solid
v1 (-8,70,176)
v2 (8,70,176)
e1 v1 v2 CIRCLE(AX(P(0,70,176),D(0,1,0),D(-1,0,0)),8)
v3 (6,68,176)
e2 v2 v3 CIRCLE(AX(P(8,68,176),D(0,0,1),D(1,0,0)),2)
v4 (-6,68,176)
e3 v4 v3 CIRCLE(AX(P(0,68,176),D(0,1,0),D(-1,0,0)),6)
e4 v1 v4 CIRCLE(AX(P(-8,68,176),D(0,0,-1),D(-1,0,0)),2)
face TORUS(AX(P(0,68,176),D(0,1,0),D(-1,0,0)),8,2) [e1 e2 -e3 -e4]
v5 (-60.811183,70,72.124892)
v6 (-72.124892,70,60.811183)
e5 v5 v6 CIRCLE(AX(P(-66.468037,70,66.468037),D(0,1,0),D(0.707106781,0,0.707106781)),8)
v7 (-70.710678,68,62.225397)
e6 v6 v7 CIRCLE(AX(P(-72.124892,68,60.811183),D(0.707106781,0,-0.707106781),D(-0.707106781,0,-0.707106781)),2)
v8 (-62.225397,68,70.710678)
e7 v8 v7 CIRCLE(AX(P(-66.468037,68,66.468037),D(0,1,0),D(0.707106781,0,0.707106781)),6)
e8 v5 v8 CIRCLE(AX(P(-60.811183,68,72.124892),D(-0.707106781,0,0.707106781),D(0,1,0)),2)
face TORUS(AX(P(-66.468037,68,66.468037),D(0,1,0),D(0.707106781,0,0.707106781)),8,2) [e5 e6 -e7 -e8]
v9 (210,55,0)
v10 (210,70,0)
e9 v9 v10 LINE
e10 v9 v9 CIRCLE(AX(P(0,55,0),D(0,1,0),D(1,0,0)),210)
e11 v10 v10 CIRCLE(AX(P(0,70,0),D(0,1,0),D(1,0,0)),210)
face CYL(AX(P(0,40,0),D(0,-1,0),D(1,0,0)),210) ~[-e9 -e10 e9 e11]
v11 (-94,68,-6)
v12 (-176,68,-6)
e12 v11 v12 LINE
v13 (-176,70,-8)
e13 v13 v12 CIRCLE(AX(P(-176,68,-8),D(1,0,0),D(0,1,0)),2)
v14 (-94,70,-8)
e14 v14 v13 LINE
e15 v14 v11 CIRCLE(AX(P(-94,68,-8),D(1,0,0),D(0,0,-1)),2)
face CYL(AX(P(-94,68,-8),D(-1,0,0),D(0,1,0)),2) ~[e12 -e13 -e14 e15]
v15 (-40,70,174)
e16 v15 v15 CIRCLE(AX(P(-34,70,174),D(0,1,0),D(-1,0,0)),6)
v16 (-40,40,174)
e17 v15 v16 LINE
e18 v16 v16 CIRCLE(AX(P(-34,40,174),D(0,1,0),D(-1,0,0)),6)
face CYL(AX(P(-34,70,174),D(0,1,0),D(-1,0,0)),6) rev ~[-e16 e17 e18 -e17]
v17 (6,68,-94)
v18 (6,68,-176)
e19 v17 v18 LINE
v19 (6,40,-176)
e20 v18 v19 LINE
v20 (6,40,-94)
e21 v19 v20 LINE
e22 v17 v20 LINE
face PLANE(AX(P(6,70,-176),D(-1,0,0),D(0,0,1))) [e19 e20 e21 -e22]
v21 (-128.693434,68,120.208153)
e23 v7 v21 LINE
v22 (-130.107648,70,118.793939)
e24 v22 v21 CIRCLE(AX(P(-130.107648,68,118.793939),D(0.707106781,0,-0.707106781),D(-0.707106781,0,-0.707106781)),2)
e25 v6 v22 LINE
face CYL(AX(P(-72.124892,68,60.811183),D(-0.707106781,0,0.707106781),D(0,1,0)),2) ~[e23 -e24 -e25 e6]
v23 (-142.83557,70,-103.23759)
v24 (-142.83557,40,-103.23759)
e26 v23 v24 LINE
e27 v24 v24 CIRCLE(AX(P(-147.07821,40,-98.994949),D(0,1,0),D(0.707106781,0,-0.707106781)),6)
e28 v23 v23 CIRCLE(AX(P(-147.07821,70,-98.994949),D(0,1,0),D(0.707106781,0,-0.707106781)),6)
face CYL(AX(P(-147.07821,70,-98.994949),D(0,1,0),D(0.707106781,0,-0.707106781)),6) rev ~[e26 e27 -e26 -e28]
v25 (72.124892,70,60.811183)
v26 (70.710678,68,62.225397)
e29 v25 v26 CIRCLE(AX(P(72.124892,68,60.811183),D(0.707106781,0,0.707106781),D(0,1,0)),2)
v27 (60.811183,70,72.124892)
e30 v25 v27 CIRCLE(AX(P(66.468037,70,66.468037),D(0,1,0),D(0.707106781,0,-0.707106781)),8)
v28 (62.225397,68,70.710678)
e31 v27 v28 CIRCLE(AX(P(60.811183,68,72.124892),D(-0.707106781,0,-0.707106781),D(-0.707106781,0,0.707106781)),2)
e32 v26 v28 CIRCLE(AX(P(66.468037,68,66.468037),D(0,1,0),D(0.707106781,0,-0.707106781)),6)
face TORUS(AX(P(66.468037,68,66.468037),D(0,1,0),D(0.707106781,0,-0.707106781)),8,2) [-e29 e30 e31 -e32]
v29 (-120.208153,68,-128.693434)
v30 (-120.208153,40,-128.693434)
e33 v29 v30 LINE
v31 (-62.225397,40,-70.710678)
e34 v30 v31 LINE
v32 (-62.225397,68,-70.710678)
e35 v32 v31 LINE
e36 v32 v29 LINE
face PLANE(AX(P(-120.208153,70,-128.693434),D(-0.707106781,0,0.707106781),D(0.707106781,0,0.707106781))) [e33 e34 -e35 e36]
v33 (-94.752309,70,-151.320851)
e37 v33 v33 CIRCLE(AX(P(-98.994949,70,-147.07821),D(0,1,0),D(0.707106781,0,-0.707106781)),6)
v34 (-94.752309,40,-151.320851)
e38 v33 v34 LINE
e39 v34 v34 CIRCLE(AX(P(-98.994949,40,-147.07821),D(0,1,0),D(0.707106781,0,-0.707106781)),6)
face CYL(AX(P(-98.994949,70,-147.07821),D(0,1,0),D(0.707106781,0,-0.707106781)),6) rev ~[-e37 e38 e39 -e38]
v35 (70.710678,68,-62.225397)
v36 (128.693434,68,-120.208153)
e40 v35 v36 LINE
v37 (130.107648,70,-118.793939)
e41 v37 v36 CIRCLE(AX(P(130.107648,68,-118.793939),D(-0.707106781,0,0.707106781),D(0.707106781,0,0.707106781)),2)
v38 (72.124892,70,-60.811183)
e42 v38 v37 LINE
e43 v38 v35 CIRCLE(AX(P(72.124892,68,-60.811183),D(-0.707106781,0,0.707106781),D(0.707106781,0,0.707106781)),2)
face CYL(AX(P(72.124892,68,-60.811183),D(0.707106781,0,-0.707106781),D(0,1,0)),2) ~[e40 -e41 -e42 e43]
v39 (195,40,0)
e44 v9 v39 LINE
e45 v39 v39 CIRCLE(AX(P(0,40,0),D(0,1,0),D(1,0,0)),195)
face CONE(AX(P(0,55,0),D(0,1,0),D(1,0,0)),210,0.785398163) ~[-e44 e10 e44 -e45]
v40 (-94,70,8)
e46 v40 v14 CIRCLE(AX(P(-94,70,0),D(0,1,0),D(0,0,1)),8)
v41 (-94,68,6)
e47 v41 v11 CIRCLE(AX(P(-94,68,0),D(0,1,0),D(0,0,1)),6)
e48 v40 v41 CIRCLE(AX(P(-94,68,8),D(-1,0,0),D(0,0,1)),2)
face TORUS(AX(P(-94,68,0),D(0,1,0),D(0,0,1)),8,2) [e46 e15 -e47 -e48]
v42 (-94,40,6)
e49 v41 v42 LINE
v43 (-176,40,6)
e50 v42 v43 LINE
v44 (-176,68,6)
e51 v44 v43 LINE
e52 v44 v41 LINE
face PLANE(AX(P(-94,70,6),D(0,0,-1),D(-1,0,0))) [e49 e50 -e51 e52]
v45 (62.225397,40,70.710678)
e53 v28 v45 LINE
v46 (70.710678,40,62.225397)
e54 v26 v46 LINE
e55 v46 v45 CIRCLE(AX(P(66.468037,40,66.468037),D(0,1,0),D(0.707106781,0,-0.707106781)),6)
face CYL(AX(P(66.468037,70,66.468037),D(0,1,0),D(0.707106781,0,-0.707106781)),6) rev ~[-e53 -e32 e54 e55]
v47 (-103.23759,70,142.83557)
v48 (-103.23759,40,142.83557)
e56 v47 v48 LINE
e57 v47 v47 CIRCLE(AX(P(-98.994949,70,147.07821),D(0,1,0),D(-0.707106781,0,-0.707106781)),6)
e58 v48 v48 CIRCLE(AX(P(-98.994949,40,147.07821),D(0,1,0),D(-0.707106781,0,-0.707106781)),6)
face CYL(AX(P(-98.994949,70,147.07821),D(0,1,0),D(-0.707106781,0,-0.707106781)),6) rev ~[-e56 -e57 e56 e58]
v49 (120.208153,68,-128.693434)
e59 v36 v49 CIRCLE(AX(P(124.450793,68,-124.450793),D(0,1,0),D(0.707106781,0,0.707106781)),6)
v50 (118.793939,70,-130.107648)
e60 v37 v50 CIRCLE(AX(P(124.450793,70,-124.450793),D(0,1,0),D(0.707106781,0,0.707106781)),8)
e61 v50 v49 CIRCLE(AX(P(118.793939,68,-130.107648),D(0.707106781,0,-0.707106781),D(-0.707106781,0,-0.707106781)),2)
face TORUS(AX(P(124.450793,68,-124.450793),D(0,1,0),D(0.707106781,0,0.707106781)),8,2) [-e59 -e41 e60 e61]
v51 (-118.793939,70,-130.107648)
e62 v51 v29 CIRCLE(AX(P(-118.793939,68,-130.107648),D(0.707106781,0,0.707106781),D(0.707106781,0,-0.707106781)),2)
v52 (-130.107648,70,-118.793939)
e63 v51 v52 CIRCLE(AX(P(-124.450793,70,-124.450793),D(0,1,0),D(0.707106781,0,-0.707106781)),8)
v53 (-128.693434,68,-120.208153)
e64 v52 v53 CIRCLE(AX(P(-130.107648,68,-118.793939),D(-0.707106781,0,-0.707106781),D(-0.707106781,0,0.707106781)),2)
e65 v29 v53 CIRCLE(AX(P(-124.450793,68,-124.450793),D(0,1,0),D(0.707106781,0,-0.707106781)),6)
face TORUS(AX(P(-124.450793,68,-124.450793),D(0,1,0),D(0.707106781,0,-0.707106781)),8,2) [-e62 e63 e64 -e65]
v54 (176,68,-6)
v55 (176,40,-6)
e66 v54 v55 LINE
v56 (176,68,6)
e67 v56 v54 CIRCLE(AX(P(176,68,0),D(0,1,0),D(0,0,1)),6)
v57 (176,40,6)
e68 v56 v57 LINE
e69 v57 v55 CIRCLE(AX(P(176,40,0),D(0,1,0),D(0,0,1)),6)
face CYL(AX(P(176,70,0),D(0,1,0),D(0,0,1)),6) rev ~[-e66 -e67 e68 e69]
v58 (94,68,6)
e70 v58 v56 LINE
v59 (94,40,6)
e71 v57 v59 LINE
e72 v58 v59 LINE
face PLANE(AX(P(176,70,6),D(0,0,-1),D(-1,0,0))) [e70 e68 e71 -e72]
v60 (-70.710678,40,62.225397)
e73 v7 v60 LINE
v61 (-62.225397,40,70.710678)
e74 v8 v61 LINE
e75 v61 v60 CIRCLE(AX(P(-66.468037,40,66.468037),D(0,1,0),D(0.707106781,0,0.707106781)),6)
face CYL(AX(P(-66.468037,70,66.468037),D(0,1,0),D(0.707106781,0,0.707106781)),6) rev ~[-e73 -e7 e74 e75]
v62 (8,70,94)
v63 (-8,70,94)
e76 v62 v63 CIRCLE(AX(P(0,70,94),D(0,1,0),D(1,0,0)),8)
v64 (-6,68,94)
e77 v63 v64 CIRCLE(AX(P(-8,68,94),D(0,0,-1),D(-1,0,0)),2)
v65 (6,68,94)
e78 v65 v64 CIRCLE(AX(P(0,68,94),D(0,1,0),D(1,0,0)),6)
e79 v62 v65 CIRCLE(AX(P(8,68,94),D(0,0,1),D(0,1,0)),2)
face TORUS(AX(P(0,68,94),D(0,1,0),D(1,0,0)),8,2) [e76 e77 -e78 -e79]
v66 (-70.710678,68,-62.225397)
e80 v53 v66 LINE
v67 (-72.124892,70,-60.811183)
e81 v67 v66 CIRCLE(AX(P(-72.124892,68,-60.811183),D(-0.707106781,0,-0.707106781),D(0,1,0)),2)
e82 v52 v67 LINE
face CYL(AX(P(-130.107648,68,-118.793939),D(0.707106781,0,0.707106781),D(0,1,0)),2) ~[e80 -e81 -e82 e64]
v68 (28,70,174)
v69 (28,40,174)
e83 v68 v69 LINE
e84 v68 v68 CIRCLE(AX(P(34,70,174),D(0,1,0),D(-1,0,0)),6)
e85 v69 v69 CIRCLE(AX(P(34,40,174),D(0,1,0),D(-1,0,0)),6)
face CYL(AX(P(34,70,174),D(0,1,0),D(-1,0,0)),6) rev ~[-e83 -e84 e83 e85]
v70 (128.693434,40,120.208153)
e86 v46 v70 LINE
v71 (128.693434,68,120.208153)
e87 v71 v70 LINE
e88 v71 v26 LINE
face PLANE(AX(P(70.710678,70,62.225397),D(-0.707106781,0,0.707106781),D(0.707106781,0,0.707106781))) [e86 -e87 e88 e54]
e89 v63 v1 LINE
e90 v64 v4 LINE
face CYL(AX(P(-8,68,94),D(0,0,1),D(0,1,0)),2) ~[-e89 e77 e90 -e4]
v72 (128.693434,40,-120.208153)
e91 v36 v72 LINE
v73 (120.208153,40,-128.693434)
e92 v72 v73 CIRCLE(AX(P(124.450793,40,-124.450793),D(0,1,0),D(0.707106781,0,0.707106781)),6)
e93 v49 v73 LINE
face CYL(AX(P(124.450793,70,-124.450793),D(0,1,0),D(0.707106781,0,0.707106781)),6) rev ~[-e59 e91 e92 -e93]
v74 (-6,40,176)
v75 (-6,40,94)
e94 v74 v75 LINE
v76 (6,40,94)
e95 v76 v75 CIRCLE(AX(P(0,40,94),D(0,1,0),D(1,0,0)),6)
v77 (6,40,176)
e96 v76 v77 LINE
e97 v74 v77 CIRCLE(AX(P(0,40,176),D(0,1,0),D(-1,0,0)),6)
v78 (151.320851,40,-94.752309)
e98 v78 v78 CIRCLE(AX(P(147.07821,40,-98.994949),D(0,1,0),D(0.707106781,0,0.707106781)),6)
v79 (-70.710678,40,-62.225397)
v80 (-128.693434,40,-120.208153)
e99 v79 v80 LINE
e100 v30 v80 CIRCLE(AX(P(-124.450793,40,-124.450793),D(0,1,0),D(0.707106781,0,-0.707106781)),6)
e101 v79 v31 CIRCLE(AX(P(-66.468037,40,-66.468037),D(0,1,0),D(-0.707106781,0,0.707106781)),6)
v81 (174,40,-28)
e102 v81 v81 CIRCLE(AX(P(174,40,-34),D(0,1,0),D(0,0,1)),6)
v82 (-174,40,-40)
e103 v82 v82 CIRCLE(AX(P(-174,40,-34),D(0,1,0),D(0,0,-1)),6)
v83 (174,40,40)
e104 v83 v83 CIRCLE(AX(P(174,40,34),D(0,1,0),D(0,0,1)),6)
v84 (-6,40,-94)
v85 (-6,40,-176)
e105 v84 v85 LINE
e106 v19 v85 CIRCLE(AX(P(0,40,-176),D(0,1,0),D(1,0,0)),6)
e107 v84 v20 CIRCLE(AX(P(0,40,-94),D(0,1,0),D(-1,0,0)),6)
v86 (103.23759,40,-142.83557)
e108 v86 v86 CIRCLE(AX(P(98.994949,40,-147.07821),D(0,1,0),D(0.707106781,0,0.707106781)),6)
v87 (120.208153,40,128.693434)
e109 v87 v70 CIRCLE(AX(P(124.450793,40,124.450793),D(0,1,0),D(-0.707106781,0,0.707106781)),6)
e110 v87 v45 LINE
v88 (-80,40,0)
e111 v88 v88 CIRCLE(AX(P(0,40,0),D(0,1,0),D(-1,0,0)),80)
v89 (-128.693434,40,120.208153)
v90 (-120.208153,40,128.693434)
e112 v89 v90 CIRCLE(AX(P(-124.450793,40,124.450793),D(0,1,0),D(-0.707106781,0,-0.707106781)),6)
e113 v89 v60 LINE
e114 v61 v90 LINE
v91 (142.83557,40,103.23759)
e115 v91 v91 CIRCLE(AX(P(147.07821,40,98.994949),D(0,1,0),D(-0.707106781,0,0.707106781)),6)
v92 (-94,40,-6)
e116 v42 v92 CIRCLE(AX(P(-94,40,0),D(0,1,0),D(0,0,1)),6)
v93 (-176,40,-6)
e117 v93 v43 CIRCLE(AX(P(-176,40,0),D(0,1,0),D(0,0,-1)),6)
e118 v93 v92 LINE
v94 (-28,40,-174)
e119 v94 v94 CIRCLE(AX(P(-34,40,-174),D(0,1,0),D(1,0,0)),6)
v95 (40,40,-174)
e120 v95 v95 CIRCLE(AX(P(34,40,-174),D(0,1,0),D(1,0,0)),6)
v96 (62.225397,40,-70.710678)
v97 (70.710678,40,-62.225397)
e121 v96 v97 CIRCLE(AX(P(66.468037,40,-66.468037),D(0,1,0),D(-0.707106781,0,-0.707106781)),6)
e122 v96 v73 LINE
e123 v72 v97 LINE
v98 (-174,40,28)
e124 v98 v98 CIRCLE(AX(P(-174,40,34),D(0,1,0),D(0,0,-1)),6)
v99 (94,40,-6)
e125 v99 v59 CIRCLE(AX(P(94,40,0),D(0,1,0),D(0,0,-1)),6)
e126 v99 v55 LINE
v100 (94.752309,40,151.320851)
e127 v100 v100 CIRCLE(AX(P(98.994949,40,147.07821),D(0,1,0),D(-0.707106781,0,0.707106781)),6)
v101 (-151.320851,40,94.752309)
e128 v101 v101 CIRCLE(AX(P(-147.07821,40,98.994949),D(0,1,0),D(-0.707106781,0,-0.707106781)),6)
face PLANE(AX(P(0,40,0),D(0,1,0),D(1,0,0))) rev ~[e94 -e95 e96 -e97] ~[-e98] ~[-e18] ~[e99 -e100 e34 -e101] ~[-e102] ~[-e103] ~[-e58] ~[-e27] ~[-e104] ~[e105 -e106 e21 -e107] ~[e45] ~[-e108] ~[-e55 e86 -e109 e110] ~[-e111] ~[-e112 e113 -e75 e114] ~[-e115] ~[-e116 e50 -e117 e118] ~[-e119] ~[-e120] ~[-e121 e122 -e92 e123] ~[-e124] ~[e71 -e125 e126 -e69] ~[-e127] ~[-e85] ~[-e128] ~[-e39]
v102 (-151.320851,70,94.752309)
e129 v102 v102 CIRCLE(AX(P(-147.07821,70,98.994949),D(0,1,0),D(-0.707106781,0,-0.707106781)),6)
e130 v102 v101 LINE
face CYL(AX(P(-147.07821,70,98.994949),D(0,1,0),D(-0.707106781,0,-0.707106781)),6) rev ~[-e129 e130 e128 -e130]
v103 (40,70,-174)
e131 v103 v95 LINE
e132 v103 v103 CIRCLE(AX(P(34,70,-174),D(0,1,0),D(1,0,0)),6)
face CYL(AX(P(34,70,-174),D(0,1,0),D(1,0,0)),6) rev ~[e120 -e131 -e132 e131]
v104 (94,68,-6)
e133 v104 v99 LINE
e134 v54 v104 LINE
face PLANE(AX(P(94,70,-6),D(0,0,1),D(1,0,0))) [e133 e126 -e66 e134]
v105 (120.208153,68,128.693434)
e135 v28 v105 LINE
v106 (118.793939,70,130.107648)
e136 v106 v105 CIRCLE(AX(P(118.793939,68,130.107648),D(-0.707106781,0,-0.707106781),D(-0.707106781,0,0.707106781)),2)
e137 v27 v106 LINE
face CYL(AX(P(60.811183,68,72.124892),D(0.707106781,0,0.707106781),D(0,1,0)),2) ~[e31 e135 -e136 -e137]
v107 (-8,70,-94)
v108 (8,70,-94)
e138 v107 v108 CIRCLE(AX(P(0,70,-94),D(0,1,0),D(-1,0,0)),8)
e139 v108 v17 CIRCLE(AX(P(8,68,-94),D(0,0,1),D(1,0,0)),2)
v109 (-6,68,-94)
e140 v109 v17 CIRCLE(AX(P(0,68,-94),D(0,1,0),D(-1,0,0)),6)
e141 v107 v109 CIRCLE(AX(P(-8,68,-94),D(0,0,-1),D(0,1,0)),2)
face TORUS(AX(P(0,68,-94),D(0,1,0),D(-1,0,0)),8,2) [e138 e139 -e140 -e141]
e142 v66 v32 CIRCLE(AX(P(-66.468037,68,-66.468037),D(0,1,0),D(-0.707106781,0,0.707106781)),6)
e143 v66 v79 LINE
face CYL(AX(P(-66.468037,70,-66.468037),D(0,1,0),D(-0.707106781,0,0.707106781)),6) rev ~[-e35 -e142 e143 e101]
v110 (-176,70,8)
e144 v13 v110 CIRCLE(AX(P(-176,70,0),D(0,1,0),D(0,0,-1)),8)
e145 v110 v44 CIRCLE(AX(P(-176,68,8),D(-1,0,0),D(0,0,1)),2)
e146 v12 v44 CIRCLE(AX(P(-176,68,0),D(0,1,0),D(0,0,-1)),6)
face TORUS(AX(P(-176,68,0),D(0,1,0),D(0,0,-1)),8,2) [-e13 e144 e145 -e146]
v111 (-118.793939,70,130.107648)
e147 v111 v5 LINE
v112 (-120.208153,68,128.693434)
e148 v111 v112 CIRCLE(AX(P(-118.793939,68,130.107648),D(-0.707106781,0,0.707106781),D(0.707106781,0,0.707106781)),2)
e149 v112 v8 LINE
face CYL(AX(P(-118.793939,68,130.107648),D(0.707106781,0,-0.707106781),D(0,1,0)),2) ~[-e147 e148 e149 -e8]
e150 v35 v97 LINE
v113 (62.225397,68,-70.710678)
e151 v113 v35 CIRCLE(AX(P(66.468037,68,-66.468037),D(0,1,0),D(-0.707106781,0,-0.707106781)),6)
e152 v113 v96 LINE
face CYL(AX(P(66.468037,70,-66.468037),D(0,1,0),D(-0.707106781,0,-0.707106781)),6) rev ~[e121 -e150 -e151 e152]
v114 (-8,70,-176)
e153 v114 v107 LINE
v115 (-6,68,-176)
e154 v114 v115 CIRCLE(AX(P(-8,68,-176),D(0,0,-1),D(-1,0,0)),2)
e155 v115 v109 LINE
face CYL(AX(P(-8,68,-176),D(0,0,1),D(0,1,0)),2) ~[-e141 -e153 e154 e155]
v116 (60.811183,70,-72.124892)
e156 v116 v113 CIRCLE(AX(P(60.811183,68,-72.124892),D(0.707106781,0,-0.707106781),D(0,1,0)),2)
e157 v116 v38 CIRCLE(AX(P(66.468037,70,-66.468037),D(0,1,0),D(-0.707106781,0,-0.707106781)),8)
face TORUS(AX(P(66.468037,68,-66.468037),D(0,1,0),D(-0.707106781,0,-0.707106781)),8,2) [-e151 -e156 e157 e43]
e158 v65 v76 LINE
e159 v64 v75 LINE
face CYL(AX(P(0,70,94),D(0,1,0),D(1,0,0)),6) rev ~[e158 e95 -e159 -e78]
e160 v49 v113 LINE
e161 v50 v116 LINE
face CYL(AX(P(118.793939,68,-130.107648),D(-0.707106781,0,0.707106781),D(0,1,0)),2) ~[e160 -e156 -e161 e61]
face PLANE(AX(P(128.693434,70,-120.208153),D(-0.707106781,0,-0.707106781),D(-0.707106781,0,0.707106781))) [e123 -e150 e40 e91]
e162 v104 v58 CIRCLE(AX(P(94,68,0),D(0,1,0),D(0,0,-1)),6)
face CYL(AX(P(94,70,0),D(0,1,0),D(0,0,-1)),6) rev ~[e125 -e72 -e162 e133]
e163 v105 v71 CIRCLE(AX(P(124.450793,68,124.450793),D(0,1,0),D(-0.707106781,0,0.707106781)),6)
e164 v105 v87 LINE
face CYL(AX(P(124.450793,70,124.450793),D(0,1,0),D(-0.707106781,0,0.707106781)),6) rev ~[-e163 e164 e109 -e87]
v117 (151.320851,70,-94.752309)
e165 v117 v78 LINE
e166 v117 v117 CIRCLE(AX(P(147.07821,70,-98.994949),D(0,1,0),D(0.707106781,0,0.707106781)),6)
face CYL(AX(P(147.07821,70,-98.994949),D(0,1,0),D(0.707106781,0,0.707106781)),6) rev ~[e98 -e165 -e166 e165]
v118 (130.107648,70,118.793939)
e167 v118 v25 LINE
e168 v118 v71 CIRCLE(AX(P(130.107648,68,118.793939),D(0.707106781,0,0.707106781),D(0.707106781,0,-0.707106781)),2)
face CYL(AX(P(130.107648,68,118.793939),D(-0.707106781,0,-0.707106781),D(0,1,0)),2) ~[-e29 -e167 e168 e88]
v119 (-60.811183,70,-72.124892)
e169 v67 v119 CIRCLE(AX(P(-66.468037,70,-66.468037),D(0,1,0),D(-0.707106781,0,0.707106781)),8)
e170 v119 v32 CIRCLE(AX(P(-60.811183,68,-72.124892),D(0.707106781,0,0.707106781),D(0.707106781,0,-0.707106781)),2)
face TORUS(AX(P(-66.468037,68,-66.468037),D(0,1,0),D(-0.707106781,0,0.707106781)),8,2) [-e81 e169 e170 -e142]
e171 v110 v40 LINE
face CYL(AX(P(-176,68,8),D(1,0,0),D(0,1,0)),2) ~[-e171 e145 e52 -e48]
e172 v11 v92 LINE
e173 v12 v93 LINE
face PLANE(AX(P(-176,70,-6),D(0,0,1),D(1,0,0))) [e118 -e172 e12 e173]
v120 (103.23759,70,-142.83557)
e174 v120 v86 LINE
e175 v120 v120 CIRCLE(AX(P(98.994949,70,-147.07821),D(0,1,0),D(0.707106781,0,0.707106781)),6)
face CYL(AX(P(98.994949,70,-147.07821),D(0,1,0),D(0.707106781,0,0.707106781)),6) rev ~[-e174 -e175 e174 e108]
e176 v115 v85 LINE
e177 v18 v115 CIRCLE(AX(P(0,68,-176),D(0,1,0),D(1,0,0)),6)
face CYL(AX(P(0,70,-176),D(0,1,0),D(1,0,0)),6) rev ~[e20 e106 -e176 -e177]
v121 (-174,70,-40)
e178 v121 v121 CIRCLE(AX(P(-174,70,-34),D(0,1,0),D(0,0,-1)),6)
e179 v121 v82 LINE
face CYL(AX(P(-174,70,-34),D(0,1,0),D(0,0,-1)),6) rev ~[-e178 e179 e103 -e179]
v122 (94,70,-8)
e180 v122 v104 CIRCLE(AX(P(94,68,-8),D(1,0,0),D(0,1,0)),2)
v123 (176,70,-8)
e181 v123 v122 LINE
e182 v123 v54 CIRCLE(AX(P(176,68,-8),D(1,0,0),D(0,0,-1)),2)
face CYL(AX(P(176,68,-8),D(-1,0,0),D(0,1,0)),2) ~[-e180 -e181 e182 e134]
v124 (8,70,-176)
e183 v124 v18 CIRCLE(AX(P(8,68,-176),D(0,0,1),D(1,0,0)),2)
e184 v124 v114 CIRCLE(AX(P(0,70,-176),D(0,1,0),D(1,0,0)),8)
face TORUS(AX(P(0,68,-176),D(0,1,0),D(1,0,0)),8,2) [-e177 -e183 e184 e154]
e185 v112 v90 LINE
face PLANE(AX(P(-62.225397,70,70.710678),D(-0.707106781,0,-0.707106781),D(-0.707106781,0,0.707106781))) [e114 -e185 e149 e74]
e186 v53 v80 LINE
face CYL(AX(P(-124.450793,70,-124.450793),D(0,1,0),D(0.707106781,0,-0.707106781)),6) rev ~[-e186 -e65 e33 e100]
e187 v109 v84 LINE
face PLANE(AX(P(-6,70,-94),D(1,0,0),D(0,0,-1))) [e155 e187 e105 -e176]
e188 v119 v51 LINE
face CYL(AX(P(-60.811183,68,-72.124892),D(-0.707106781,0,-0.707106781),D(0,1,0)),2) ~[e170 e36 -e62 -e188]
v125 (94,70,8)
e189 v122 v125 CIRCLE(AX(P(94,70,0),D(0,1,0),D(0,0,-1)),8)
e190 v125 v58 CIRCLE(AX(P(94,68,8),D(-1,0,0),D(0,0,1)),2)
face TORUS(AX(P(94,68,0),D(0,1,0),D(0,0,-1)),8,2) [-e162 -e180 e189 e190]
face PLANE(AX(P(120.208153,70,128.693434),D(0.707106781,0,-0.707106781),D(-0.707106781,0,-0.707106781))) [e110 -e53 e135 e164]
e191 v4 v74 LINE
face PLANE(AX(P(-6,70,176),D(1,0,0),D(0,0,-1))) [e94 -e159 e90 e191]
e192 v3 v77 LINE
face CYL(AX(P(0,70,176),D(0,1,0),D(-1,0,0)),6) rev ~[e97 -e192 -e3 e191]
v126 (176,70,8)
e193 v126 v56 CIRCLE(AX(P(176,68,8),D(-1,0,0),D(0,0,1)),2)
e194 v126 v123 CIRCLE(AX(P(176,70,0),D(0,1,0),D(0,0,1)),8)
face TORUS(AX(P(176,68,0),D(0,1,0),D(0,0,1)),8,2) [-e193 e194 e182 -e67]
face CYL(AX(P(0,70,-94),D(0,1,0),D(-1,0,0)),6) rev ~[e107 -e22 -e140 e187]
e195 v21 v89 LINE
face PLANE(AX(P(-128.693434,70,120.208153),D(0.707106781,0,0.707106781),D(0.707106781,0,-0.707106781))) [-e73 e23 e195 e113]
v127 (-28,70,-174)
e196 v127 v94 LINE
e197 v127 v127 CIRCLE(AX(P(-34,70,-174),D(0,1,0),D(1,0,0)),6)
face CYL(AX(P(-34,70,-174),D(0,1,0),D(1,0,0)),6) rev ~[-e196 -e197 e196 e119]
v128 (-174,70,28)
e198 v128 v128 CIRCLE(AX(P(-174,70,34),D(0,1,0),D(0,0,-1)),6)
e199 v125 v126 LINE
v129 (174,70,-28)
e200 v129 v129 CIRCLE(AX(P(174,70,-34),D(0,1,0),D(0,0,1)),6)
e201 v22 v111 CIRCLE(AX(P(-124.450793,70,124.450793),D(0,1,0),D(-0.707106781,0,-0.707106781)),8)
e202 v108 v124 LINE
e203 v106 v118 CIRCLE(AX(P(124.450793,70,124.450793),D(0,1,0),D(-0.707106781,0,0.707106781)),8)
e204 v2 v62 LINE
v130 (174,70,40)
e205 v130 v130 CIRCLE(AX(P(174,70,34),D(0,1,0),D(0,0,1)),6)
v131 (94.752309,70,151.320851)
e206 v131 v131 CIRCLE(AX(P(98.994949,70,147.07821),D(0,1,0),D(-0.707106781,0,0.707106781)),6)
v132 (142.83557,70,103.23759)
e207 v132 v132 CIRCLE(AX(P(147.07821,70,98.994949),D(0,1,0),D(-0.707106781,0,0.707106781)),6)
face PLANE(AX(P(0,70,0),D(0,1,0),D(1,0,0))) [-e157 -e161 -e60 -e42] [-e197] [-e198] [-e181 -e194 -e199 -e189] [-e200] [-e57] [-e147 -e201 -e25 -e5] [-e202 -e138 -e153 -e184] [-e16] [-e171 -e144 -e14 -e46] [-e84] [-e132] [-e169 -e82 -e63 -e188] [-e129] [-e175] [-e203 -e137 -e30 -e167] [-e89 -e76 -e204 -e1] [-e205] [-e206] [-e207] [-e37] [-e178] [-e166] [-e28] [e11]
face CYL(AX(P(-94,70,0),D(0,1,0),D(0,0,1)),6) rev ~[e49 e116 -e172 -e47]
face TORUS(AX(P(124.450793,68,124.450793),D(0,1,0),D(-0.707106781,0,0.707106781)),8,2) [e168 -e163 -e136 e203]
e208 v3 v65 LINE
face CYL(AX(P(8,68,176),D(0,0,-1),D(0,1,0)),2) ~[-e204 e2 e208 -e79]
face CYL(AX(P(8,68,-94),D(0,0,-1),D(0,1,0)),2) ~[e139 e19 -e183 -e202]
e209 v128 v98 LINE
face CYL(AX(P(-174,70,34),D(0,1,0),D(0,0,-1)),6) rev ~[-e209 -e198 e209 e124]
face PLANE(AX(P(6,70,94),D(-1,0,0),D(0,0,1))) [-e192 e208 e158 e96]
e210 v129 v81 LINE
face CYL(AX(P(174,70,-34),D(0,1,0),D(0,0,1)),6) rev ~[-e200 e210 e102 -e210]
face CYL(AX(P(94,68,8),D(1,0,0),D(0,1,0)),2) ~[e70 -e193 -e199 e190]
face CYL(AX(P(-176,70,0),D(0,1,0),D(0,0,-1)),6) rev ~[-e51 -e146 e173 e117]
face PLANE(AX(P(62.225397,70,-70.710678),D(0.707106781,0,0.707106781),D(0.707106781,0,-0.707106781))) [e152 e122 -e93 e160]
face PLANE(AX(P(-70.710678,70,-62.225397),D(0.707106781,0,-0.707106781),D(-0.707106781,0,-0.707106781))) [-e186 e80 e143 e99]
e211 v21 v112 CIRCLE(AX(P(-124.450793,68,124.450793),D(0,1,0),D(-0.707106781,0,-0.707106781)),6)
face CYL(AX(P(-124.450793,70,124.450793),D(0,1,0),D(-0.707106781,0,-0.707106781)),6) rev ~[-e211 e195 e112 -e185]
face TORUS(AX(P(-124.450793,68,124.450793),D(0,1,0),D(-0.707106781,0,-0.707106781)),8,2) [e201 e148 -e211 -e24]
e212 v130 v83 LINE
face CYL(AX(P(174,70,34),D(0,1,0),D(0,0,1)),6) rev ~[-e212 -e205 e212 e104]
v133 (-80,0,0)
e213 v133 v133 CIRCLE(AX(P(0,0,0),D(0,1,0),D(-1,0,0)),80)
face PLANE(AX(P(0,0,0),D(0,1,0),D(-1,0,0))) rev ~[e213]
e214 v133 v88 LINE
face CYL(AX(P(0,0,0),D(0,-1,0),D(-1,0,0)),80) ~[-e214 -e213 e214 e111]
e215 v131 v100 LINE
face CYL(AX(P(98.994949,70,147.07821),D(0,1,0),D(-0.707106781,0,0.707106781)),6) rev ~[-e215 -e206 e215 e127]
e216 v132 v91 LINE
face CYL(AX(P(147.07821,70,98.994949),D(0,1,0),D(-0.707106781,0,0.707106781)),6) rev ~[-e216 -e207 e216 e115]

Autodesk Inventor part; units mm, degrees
ref_plane "YZ Plane" through (0, 0, 0) normal (1, 0, 0) x (0, 1, 0)
ref_plane "XZ Plane" through (0, 0, 0) normal (0, 1, 0) x (-1, 0, 0)
ref_plane "XY Plane" through (0, 0, 0) normal (0, 0, 1) x (1, 0, 0)
sketch "Sketch1" plane through (0, 0, 0) normal (0, 1, 0) x (-1, 0, 0)
  circle A0 centre (0, 0) radius 80
  dimension "d0" = 160
extrude "Extrusion1" add sketch "Sketch1" along normal blind 40
sketch "Sketch2" plane through (0, 40, 0) normal (0, 1, 0) x (1, 0, 0)
  circle A0 centre (0, 0) radius 210
  dimension "d3" = 420
extrude "Extrusion2" add sketch "Sketch2" along normal blind 30
sketch "Sketch3" plane through (0, 70, 0) normal (0, 1, 0) x (1, 0, 0)
  line L0 (0, 94) -> (0, 176) construction
  line L1 (-6, 94) -> (-6, 176)
  line L2 (6, 176) -> (6, 94)
  arc A0 (-6, 94) -> (6, 94) centre (0, 94) ccw
  arc A1 (6, 176) -> (-6, 176) centre (0, 176) ccw
  circle A2 centre (34, 174) radius 6
  circle A3 centre (-34, 174) radius 6
  point P0 (0, 0)
  point P1 (0, 135)
extrude "Extrusion3" cut sketch "Sketch3" against normal blind 30
pattern_circular "Circular Pattern1" count 8 over 360 about axis through (0, 40, 0) along (0, 1, 0) of "Extrusion3"
chamfer "Chamfer1" distance 15 angle 45 1 edges at (-210, 40, 0)
fillet "Fillet1" radius 2 32 edges at (-88, 70, 0) (-135, 70, 6) (-182, 70, 0) (-135, 70, -6) (-128.6934, 70, -128.6934) (-91.2168, 70, -99.7021) (-62.2254, 70, -62.2254) (-99.7021, 70, -91.2168) (0, 70, -182) (6, 70, -135) (0, 70, -88) (-6, 70, -135) (128.6934, 70, -128.6934) (99.7021, 70, -91.2168) (62.2254, 70, -62.2254) (91.2168, 70, -99.7021) (182, 70, 0) (135, 70, 6) (88, 70, 0) (135, 70, -6) (128.6934, 70, 128.6934) (91.2168, 70, 99.7021) (62.2254, 70, 62.2254) (99.7021, 70, 91.2168) (0, 70, 182) (-6, 70, 135) (0, 70, 88) (6, 70, 135) (-128.6934, 70, 128.6934) (-99.7021, 70, 91.2168) (-62.2254, 70, 62.2254) (-91.2168, 70, 99.7021)
properties part number "BaxisStol" material "Aluminum 6061-AHC"
